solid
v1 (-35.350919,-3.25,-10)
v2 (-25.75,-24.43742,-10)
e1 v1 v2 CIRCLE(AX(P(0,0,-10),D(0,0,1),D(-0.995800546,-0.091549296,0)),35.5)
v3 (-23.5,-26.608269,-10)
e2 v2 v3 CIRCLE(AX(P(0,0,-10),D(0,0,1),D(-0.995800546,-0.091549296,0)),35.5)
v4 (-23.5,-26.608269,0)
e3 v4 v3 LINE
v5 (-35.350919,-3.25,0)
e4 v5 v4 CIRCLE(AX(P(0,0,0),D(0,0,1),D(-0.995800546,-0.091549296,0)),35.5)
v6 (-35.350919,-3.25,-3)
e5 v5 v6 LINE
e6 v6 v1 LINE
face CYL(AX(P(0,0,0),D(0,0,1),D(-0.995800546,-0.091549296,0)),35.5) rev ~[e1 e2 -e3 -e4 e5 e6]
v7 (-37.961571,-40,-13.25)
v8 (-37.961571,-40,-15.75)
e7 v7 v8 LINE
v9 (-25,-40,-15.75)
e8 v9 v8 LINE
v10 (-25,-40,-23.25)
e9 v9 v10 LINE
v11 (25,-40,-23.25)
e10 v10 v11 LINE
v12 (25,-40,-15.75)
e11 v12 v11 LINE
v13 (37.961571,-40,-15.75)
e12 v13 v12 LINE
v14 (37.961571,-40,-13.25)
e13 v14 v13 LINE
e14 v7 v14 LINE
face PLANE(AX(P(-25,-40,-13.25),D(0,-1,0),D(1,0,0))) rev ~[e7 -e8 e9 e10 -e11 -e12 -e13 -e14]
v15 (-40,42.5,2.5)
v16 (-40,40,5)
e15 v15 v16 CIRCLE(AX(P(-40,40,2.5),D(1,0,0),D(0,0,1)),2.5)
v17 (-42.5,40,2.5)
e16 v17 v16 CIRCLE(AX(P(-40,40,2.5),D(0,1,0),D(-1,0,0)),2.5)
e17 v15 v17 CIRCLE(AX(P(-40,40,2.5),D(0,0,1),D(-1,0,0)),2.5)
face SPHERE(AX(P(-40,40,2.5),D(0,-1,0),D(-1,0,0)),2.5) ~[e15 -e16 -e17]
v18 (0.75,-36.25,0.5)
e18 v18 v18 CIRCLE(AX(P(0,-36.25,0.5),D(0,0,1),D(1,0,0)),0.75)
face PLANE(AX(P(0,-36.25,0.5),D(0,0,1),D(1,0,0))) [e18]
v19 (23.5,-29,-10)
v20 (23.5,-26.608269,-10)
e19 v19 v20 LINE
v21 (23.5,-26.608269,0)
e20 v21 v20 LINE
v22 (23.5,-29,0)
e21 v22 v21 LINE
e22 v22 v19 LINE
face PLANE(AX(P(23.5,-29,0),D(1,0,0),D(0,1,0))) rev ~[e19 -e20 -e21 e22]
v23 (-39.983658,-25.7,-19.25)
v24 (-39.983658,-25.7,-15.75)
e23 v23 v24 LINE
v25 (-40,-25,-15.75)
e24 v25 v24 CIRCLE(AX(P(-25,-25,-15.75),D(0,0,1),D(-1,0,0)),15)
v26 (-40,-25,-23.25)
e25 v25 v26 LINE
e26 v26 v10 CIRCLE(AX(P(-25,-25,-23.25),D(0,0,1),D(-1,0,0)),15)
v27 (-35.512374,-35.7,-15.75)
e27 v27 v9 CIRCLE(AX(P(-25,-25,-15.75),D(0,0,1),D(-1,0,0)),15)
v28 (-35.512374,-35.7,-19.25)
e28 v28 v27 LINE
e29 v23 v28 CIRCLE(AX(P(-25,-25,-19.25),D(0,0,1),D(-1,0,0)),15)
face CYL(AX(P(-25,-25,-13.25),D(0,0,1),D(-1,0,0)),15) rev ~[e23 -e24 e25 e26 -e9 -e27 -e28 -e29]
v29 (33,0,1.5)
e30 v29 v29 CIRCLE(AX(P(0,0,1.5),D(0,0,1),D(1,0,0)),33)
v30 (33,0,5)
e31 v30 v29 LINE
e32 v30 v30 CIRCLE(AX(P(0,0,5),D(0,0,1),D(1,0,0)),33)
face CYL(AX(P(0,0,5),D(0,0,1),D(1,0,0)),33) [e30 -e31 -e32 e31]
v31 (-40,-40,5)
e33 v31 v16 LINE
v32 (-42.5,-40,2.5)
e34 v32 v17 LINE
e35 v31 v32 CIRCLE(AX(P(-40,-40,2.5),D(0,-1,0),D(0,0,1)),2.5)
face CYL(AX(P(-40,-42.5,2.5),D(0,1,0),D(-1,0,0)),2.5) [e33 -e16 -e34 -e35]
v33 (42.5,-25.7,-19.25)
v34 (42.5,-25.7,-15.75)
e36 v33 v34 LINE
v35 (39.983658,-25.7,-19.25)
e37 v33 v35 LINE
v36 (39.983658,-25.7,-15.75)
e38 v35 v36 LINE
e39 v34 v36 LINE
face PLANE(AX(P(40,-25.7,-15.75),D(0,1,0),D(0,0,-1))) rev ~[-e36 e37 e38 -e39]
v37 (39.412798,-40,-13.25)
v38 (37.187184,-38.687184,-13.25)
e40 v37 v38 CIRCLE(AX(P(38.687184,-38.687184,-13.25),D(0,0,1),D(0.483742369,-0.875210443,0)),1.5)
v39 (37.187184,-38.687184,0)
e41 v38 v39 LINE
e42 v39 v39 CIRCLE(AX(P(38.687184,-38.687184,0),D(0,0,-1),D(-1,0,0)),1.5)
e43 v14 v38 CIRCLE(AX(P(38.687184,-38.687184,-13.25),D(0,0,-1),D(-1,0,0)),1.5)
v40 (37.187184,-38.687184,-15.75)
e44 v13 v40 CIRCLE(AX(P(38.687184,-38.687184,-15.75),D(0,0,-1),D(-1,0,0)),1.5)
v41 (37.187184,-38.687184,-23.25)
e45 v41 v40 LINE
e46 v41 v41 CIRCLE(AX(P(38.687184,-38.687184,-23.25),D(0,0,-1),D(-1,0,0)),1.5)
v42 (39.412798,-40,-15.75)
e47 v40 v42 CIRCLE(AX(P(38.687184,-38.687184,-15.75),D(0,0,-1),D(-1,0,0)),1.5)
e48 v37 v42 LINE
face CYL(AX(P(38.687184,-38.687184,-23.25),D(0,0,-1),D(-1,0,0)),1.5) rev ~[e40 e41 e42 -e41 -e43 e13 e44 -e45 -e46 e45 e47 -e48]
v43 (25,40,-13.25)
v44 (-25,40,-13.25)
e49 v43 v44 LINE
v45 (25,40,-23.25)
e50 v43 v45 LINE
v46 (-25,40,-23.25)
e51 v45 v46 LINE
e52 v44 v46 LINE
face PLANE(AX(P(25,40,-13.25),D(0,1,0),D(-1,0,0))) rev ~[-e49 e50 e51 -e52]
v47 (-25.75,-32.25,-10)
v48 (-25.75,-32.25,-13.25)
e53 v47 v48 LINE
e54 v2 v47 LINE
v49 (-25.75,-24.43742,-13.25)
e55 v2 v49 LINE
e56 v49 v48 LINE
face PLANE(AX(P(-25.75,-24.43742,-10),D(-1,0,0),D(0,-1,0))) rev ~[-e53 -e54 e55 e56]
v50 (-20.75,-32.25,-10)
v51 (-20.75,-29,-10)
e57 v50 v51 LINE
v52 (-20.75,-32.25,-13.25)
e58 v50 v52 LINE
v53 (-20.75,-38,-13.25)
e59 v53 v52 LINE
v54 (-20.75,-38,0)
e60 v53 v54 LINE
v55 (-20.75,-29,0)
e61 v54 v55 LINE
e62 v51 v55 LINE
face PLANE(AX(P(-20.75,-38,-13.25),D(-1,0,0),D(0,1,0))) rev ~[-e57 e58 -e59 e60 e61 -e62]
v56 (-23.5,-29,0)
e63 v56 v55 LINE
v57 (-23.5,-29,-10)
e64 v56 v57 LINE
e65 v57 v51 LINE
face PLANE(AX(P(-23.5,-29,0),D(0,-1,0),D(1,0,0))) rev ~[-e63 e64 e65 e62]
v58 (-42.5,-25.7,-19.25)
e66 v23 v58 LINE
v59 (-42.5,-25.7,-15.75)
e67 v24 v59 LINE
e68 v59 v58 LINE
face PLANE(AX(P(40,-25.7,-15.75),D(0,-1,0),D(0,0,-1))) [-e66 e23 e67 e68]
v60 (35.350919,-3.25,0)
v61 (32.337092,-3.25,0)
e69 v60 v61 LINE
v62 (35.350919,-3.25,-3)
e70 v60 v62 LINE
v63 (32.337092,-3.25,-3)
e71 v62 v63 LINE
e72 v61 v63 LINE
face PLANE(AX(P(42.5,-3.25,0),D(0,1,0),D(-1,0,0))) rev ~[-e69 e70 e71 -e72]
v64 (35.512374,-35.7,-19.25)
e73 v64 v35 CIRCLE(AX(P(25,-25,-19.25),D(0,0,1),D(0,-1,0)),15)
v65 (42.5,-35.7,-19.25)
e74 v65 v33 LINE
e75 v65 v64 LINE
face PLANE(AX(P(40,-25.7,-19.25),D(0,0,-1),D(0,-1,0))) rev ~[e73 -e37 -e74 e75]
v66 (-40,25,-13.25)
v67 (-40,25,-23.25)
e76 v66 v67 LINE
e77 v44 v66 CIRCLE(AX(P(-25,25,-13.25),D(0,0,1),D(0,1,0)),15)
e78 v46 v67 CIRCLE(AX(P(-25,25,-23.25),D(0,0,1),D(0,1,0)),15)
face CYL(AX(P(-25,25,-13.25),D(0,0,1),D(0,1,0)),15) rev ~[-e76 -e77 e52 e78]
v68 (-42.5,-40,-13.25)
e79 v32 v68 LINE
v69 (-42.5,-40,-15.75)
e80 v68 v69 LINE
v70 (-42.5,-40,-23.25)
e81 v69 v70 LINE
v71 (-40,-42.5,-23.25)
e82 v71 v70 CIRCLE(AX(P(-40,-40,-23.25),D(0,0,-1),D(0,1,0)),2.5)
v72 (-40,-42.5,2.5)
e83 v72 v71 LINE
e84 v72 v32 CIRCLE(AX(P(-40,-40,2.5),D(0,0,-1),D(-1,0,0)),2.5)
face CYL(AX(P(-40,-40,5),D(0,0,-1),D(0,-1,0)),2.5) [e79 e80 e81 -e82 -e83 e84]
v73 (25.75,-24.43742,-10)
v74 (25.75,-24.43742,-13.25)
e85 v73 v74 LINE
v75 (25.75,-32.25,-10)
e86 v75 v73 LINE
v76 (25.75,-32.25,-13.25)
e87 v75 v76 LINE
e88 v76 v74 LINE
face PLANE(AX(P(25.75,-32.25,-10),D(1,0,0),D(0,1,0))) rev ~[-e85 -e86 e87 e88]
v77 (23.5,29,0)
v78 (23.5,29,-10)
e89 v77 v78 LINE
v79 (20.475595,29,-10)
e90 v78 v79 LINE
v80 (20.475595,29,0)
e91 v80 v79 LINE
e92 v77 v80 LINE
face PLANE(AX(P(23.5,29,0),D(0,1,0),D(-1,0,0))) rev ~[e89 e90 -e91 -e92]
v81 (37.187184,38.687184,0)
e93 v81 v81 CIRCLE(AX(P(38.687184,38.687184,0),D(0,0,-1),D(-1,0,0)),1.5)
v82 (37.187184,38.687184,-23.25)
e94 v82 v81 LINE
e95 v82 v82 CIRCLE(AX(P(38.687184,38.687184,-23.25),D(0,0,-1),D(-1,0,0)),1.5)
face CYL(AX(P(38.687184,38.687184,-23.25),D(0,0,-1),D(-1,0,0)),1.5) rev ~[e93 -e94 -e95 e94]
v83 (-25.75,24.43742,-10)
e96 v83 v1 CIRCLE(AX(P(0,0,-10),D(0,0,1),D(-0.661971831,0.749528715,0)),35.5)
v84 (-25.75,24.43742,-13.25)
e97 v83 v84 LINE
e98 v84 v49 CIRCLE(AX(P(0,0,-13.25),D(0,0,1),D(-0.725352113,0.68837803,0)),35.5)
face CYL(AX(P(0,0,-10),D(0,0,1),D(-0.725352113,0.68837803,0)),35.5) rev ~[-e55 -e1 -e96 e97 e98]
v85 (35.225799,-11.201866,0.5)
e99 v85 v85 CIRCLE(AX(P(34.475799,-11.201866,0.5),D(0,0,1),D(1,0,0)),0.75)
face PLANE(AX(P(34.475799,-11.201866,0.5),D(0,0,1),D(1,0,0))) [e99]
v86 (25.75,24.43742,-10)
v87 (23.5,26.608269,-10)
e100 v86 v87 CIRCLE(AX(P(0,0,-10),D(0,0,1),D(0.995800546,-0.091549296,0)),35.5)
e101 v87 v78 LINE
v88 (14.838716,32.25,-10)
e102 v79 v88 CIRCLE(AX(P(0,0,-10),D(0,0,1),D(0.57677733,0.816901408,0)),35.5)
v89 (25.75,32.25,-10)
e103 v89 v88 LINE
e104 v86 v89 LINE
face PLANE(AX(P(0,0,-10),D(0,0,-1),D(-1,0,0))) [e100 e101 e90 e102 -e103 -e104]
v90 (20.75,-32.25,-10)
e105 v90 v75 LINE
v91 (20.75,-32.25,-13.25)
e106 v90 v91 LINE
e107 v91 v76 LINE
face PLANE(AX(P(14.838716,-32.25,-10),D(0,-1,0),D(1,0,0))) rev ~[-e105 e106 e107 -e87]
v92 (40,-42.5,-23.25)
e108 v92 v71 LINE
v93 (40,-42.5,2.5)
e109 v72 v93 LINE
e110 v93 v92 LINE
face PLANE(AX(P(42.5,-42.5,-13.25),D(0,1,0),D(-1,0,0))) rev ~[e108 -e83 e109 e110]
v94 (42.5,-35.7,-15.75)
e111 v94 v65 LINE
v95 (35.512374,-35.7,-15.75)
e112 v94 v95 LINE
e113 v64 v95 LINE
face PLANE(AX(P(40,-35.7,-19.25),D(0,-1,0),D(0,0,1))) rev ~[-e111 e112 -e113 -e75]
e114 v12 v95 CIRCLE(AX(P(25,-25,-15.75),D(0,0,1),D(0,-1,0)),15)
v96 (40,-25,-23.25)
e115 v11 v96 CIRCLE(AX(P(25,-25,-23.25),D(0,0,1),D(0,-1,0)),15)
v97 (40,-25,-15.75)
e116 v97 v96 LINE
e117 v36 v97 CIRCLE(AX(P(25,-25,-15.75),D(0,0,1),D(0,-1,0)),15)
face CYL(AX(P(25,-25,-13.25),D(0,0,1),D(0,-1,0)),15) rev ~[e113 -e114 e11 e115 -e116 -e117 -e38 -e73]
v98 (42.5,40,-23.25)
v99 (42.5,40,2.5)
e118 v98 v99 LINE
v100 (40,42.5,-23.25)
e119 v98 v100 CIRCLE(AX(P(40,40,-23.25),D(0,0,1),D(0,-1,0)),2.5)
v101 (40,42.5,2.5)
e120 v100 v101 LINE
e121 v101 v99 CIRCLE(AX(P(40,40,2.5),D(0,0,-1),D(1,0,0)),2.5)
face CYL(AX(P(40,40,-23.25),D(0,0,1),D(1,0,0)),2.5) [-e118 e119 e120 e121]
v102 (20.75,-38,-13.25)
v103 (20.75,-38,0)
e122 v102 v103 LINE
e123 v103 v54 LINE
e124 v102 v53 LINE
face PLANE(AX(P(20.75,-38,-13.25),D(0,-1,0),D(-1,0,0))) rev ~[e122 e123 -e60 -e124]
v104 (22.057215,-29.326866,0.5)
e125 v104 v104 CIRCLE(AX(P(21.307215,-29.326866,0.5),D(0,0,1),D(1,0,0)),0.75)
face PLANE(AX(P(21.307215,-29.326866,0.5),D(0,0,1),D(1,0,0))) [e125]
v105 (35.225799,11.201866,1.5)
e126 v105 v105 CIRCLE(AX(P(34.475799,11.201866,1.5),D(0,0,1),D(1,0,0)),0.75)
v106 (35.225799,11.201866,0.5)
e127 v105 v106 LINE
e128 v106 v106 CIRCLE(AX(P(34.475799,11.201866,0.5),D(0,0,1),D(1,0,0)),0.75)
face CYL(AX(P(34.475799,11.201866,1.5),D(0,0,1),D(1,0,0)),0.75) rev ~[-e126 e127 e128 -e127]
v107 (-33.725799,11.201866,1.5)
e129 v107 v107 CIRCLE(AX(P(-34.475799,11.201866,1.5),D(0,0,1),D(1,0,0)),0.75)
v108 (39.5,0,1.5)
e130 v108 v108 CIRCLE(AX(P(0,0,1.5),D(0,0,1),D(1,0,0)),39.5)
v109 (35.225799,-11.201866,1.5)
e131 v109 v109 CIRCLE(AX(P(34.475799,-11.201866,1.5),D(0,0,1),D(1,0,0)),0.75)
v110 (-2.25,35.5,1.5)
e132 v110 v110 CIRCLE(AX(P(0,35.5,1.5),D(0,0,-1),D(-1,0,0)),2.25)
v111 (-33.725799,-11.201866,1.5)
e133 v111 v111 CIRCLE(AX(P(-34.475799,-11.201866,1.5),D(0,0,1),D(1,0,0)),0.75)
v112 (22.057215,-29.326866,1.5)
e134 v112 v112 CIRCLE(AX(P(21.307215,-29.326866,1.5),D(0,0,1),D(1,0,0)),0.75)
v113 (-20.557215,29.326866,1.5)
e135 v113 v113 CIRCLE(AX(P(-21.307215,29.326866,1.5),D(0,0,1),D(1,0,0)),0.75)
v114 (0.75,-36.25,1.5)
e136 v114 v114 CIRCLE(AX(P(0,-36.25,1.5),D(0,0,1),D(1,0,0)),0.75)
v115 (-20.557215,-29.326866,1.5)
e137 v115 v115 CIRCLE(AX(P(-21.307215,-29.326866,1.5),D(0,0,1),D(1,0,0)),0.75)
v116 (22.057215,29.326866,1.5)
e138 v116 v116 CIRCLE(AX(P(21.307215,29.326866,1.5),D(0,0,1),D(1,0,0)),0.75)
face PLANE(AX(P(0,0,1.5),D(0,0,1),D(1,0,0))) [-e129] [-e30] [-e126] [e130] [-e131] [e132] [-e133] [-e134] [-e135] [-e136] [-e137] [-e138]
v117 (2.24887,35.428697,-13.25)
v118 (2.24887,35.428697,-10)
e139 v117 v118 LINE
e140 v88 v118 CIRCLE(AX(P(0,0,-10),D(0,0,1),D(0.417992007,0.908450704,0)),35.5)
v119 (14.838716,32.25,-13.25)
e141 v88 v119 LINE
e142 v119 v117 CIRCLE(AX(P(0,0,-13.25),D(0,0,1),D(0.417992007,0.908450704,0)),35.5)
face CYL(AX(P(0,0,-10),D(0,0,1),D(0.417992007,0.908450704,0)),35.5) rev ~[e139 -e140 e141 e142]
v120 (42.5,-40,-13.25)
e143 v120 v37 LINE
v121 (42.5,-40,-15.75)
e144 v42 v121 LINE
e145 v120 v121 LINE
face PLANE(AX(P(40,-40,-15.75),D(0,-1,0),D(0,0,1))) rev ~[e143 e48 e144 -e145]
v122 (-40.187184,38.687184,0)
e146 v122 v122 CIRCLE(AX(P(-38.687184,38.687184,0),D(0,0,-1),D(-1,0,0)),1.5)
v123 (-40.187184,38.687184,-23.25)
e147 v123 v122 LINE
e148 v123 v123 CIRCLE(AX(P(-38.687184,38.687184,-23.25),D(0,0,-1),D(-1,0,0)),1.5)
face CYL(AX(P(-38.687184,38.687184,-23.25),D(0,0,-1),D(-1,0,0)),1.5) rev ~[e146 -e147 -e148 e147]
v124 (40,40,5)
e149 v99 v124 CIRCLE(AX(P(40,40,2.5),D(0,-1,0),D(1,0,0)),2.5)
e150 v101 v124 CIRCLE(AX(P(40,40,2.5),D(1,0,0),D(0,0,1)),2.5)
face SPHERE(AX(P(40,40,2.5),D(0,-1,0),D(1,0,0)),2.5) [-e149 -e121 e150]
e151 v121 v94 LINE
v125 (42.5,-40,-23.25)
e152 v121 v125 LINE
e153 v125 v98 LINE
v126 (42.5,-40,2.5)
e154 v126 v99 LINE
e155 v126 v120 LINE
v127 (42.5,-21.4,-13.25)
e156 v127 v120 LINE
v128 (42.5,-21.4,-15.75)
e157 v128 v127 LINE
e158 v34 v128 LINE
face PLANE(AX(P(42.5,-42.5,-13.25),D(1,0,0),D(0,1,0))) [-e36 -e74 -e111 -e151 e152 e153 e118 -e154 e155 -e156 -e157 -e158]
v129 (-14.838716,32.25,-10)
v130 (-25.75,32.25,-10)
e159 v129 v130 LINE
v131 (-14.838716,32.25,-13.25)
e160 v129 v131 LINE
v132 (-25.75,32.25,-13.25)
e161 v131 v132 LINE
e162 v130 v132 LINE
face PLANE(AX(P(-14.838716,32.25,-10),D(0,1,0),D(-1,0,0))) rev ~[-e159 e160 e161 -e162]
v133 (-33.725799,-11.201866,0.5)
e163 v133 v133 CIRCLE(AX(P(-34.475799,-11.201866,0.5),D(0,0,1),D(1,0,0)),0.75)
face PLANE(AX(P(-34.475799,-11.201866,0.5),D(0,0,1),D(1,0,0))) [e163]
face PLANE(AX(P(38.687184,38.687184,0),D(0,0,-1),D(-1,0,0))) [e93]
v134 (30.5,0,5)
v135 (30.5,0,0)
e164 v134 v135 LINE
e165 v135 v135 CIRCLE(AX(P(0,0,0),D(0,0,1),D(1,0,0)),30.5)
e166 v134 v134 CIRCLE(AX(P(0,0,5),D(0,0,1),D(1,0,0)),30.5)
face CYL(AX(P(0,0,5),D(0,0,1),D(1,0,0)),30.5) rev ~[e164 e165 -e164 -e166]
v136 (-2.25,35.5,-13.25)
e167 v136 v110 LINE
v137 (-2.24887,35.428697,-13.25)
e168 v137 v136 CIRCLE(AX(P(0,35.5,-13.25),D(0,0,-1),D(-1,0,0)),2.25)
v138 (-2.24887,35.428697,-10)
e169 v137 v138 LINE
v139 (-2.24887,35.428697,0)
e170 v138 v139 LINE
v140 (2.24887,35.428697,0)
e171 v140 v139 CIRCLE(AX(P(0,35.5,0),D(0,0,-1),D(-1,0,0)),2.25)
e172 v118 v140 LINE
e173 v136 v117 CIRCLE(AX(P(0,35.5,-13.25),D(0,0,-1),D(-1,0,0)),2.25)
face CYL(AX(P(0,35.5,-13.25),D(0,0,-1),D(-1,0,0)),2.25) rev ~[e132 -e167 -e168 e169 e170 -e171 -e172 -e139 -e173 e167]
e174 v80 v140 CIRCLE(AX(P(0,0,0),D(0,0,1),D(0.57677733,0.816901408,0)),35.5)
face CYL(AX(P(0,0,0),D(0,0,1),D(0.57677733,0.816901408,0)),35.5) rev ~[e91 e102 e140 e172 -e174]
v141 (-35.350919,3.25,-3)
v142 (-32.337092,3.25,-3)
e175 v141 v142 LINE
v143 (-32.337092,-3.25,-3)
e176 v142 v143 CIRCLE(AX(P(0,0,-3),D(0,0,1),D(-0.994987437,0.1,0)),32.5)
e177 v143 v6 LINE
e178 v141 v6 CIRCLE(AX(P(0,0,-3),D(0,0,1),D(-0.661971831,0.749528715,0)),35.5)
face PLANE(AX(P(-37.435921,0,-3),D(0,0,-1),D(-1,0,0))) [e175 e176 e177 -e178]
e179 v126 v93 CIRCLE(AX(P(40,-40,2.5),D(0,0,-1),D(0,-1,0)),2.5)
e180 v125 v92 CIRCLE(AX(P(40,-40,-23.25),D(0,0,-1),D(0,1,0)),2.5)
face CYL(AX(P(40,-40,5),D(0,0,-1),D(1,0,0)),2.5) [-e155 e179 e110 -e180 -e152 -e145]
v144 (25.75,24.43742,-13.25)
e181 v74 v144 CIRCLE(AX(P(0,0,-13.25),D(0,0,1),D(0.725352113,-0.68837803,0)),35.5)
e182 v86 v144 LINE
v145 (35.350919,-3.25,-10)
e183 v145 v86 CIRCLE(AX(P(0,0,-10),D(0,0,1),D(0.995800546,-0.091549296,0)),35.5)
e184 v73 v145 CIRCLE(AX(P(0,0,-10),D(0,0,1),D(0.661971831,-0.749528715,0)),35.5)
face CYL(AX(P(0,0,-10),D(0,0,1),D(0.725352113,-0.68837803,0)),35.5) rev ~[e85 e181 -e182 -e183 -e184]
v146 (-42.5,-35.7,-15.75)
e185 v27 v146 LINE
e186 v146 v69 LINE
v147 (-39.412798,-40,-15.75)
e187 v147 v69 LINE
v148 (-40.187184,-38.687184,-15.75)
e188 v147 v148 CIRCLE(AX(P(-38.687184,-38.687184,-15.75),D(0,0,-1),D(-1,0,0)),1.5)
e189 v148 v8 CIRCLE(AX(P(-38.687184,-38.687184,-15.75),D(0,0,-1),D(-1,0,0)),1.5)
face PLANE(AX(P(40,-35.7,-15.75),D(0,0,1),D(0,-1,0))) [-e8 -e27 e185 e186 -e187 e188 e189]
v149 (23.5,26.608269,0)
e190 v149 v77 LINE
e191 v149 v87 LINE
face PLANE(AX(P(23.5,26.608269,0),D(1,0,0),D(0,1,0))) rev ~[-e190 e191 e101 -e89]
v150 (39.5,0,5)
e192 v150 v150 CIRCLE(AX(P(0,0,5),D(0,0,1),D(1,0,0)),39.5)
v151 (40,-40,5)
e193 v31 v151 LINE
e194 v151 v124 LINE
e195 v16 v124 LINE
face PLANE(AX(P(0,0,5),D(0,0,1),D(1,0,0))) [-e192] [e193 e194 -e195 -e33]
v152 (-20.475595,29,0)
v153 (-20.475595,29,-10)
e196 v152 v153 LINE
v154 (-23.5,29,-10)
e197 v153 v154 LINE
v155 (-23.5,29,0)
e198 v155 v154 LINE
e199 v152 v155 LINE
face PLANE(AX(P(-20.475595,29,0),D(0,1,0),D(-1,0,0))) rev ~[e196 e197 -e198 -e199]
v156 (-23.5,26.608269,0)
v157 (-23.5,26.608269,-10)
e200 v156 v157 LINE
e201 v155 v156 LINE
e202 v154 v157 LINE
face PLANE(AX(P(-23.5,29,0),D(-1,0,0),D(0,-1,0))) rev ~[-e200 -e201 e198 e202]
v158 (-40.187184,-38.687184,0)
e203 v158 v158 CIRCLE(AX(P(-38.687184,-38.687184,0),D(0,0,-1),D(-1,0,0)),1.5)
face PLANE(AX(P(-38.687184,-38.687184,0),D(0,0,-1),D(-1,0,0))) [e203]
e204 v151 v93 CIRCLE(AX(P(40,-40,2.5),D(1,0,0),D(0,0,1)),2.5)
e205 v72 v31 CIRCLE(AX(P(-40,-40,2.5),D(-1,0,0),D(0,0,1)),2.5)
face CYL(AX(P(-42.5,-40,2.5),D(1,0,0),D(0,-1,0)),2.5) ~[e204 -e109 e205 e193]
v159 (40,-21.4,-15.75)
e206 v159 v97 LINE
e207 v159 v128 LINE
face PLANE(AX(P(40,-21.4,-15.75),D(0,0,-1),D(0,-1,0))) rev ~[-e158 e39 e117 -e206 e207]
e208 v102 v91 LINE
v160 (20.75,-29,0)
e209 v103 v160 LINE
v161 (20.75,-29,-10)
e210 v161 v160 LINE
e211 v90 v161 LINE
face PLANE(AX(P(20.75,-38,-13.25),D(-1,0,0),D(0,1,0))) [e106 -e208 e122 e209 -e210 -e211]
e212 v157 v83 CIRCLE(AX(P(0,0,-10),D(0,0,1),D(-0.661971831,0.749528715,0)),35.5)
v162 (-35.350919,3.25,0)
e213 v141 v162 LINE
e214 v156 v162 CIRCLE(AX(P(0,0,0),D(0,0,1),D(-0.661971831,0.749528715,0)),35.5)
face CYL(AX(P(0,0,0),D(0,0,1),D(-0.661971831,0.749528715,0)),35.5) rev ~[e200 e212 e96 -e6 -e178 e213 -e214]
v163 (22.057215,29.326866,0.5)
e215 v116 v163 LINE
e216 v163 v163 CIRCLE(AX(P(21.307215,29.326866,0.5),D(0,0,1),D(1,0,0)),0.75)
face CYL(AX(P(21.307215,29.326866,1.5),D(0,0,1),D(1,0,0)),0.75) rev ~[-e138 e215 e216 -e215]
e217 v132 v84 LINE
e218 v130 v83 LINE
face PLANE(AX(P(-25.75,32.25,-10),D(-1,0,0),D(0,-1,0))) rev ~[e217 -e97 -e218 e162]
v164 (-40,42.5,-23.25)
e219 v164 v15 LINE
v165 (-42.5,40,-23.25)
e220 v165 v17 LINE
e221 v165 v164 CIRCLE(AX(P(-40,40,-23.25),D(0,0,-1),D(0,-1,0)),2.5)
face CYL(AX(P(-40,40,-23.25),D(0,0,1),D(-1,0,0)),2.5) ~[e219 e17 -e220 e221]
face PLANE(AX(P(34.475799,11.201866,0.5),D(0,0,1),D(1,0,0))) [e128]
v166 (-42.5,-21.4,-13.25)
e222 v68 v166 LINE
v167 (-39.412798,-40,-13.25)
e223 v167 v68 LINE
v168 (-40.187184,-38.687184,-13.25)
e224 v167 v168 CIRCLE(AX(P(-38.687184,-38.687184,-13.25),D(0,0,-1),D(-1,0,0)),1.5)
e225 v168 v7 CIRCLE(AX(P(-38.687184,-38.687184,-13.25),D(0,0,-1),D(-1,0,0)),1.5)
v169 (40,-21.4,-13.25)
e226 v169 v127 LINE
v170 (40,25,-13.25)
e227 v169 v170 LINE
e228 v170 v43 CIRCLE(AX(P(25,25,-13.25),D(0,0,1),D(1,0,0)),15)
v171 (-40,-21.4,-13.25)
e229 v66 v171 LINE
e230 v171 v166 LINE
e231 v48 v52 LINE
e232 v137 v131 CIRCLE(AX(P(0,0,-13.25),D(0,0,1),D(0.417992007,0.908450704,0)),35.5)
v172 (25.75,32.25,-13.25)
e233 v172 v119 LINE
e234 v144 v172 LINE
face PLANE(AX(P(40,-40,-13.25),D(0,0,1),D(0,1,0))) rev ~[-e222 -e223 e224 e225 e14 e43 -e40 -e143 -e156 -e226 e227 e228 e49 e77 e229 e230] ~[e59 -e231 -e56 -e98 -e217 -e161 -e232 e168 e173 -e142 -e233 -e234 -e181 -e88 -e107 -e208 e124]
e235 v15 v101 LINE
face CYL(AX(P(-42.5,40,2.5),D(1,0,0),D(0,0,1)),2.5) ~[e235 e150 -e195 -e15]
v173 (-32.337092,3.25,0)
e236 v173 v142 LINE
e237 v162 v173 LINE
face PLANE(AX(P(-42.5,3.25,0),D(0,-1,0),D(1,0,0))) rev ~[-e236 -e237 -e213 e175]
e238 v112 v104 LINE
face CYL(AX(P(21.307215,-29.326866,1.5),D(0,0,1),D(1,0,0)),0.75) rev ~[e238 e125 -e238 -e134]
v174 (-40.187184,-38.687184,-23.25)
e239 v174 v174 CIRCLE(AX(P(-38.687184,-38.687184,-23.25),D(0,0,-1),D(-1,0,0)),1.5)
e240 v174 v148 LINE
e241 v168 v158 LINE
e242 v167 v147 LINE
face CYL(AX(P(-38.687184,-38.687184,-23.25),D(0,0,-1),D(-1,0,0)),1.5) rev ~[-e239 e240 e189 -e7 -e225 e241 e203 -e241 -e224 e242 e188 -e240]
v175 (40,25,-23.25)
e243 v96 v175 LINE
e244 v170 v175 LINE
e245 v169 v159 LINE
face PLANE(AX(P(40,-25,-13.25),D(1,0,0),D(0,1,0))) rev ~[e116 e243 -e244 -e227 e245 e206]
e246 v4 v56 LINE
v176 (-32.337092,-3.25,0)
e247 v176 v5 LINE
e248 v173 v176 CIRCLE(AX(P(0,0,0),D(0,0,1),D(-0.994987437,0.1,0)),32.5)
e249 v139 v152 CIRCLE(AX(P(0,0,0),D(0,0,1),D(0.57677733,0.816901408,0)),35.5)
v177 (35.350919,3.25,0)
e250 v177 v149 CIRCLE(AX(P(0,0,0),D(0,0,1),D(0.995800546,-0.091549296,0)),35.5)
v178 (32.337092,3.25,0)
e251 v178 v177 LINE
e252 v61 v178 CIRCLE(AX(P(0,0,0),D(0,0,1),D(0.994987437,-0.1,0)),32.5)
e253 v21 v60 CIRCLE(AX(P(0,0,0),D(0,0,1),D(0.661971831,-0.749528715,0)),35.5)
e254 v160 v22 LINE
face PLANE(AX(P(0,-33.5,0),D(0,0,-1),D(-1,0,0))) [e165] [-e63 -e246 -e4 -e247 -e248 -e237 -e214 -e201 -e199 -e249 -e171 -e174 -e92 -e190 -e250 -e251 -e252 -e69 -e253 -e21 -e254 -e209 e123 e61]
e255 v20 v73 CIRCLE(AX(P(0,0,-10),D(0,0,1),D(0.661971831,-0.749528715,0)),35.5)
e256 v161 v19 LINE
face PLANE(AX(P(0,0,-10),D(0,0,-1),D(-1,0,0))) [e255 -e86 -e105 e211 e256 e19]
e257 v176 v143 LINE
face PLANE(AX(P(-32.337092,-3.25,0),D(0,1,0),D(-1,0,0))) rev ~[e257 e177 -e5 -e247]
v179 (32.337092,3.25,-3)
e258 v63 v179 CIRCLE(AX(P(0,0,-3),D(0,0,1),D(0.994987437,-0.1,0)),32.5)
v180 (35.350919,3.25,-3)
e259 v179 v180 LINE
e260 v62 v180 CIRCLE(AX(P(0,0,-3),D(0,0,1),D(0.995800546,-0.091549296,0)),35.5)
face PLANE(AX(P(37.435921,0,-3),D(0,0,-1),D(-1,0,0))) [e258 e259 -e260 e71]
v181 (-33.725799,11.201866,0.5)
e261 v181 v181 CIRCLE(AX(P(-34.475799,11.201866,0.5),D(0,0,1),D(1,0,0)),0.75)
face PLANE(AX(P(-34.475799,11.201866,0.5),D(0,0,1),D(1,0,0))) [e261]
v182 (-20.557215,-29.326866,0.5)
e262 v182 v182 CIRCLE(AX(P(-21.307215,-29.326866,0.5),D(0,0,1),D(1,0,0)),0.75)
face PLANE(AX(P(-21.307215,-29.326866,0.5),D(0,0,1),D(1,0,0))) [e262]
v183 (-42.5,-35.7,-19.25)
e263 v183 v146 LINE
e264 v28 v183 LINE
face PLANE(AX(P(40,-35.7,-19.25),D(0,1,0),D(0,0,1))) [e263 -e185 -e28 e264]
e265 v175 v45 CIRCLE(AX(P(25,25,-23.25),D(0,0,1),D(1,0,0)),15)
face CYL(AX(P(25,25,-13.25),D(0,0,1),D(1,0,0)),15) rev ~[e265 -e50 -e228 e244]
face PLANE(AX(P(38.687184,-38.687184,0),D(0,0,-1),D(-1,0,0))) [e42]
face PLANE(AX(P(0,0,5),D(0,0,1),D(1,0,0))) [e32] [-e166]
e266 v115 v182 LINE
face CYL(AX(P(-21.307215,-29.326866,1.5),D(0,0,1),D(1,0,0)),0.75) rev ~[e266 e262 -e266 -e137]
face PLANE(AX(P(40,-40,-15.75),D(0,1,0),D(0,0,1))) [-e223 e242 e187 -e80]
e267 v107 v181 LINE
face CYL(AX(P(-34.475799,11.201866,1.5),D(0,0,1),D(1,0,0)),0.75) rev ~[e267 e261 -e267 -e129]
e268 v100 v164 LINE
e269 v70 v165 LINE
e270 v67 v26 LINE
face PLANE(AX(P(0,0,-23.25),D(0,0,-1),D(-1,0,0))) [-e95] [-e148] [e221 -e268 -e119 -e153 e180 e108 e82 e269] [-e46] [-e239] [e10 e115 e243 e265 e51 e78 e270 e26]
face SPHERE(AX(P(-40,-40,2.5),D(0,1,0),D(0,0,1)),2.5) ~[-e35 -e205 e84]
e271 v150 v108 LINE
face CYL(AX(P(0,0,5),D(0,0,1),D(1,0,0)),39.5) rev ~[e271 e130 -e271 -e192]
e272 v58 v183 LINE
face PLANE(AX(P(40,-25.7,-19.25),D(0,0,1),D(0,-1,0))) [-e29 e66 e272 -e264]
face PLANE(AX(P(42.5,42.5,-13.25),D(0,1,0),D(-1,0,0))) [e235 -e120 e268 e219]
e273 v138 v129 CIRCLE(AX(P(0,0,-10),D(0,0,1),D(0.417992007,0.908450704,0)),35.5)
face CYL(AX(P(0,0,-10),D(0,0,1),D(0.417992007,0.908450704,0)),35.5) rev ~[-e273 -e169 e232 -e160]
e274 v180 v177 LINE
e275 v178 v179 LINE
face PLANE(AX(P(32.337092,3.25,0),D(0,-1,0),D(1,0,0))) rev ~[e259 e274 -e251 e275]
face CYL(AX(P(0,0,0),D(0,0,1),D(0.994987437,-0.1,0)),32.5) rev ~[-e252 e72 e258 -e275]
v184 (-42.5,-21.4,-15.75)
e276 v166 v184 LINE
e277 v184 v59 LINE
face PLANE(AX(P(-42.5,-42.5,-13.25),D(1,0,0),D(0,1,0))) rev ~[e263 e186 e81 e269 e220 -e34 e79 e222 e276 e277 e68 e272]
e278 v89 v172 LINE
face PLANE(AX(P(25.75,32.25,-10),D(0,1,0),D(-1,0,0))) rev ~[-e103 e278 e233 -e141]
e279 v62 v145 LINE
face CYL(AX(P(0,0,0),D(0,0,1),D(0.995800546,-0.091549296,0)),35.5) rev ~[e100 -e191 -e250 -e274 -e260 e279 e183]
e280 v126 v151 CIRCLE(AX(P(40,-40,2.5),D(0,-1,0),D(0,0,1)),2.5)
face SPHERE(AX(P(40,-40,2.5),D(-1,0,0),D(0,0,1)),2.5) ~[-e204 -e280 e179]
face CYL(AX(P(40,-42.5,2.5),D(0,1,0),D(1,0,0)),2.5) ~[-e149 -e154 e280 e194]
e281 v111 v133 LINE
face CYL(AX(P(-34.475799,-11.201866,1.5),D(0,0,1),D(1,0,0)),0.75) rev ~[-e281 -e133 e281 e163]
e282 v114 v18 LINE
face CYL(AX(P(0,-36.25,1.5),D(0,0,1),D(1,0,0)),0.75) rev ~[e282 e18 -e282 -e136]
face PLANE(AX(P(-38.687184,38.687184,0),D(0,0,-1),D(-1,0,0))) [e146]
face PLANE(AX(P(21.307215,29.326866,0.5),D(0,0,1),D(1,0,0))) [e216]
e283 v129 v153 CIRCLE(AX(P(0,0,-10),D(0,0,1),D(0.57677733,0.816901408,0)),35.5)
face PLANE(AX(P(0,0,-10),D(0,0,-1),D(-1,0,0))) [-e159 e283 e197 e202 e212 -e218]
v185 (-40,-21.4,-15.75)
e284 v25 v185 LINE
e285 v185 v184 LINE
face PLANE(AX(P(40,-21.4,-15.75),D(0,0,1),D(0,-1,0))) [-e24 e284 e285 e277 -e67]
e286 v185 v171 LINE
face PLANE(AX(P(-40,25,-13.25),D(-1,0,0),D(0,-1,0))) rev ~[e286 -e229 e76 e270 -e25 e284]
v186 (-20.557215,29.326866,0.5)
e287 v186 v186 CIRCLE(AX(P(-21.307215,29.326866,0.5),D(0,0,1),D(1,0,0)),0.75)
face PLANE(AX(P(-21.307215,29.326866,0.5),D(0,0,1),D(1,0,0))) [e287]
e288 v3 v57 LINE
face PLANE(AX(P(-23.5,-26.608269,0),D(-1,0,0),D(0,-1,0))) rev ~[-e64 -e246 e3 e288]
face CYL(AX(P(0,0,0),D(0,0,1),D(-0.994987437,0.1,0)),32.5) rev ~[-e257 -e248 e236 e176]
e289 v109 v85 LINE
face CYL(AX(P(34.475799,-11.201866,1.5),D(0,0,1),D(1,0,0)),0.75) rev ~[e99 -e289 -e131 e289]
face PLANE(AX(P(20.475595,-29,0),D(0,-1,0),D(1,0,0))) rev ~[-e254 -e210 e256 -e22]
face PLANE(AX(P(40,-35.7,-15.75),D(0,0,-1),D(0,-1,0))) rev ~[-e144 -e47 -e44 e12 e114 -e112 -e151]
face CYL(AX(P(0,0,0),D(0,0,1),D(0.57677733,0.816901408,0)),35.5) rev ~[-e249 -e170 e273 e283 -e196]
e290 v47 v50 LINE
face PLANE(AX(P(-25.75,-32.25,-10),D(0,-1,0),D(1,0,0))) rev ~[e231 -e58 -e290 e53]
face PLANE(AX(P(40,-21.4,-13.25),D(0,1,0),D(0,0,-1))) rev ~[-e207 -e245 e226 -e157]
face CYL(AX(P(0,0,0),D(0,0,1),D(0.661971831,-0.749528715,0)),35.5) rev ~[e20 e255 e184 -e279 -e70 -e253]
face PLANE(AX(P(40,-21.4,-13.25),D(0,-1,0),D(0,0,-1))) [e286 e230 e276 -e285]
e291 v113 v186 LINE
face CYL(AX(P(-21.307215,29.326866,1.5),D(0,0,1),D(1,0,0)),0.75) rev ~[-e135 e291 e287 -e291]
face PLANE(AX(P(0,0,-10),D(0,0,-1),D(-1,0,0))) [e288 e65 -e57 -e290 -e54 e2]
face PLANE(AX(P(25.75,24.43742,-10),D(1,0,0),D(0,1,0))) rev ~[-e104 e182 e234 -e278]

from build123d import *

# Parameters (mm, degrees)
ESQUISSE1_W                  = 85
ESQUISSE1_H                  = 85
BOSS_EXTRU_1_DEPTH           = 5
ESQUISSE2_R                  = 30.5
ENL_V_MAT_EXTRU_1_DEPTH      = 6
BOSS_EXTRU_2_DEPTH           = 3
ESQUISSE4_W                  = 85
ESQUISSE4_H                  = 85
BOSS_EXTRU_4_DEPTH           = 10
ESQUISSE5_W                  = 85
ESQUISSE5_H                  = 85
BOSS_EXTRU_5_DEPTH           = 3.25
ESQUISSE6_R                  = 39.5
ESQUISSE6_R_2                = 33
ENL_V_MAT_EXTRU_2_DEPTH      = 3.5
ESQUISSE7_R                  = 2.25
ENL_V_MAT_EXTRU_3_DEPTH      = 14.75
ESQUISSE8_W                  = 85
ESQUISSE8_H                  = 85
BOSS_EXTRU_6_DEPTH           = 10
CONG_1_R                     = 2.5
ESQUISSE9_W                  = 41.5
ESQUISSE9_H                  = 9
ENL_V_MAT_EXTRU_4_DEPTH      = 13.25
ESQUISSE10_R                 = 0.75
ENL_V_MAT_EXTRU_5_DEPTH      = 1
ESQUISSE11_R                 = 1.5
ENL_V_MAT_EXTRU_6_DEPTH      = 23.25
ENL_V_MAT_EXTRU_7_DEPTH      = 83.5
ENL_V_MAT_EXTRU_7_DEPTH_BACK = 3.5


with BuildPart() as part:
    # Esquisse1 → Boss.-Extru.1 (new body)
    with BuildSketch(Plane.XY):
        Rectangle(ESQUISSE1_W, ESQUISSE1_H)
    extrude(amount=BOSS_EXTRU_1_DEPTH)

    # Esquisse2 → Enlèv. mat.-Extru.1 (cut, through all)
    with BuildSketch(Plane.XY.offset(5)):
        Circle(ESQUISSE2_R)
    extrude(amount=-ENL_V_MAT_EXTRU_1_DEPTH, mode=Mode.SUBTRACT)

    # Esquisse3 → Boss.-Extru.2 (add)
    with BuildSketch(Plane(origin=(0, 0, 0), x_dir=(-1, 0, 0), z_dir=(0, 0, -1))):
        with BuildLine():
            Line((-32.337091706, 3.25), (-42.5, 3.25))
            Line((-42.5, 3.25), (-42.5, -3.25))
            Line((-42.5, -3.25), (-32.337091706, -3.25))
            ThreePointArc((-32.337091706, -3.25), (-32.5, 0), (-32.337091706, 3.25))
        make_face()
        with BuildLine():
            Line((32.337091706, -3.25), (42.5, -3.25))
            Line((42.5, -3.25), (42.5, 3.25))
            Line((42.5, 3.25), (32.337091706, 3.25))
            ThreePointArc((32.337091706, 3.25), (32.5, 0), (32.337091706, -3.25))
        make_face()
    extrude(amount=BOSS_EXTRU_2_DEPTH)

    # Esquisse4 → Boss.-Extru.4 (add)
    with BuildSketch(Plane(origin=(0, 0, 0), x_dir=(-1, 0, 0), z_dir=(0, 0, -1))):
        Rectangle(ESQUISSE4_W, ESQUISSE4_H)
        with BuildLine():
            Line((-23.5, 29), (-20.475595229, 29))
            ThreePointArc((-20.475595229, 29), (0, 35.5), (20.475595229, 29))
            Line((20.475595229, 29), (23.5, 29))
            Line((23.5, 29), (23.5, 26.608269391))
            ThreePointArc((23.5, 26.608269391), (32.996010976, 13.096307101), (35.350919366, -3.25))
            ThreePointArc((35.350919366, -3.25), (31.658488037, -16.062071324), (23.5, -26.608269391))
            Line((23.5, -26.608269391), (23.5, -29))
            Line((23.5, -29), (20.475595229, -29))
            ThreePointArc((20.475595229, -29), (0, -35.5), (-20.475595229, -29))
            Line((-20.475595229, -29), (-23.5, -29))
            Line((-23.5, -29), (-23.5, -26.608269391))
            ThreePointArc((-23.5, -26.608269391), (-31.658488037, -16.062071324), (-35.350919366, -3.25))
            ThreePointArc((-35.350919366, -3.25), (-32.996010976, 13.096307101), (-23.5, 26.608269391))
            Line((-23.5, 26.608269391), (-23.5, 29))
        make_face(mode=Mode.SUBTRACT)
    extrude(amount=BOSS_EXTRU_4_DEPTH)

    # Esquisse5 → Boss.-Extru.5 (add)
    with BuildSketch(Plane(origin=(0, 0, -10), x_dir=(-1, 0, 0), z_dir=(0, 0, -1))):
        Rectangle(ESQUISSE5_W, ESQUISSE5_H)
        with BuildLine():
            Line((14.838716252, 32.25), (25.75, 32.25))
            Line((25.75, 32.25), (25.75, 24.437420077))
            ThreePointArc((25.75, 24.437420077), (35.5, 0), (25.75, -24.437420077))
            Line((25.75, -24.437420077), (25.75, -32.25))
            Line((25.75, -32.25), (14.838716252, -32.25))
            ThreePointArc((14.838716252, -32.25), (0, -35.5), (-14.838716252, -32.25))
            Line((-14.838716252, -32.25), (-25.75, -32.25))
            Line((-25.75, -32.25), (-25.75, -24.437420077))
            ThreePointArc((-25.75, -24.437420077), (-35.5, 0), (-25.75, 24.437420077))
            Line((-25.75, 24.437420077), (-25.75, 32.25))
            Line((-25.75, 32.25), (-14.838716252, 32.25))
            ThreePointArc((-14.838716252, 32.25), (0, 35.5), (14.838716252, 32.25))
        make_face(mode=Mode.SUBTRACT)
    extrude(amount=BOSS_EXTRU_5_DEPTH)

    # Esquisse6 → Enlèv. mat.-Extru.2 (cut)
    with BuildSketch(Plane.XY.offset(5)):
        Circle(ESQUISSE6_R)
        Circle(ESQUISSE6_R_2, mode=Mode.SUBTRACT)
    extrude(amount=-ENL_V_MAT_EXTRU_2_DEPTH, mode=Mode.SUBTRACT)

    # Esquisse7 → Enlèv. mat.-Extru.3 (cut)
    with BuildSketch(Plane(origin=(0, 0, -13.25), x_dir=(-1, 0, 0), z_dir=(0, 0, -1))):
        with Locations((0, 35.5)):
            Circle(ESQUISSE7_R)
    extrude(amount=-ENL_V_MAT_EXTRU_3_DEPTH, mode=Mode.SUBTRACT)

    # Esquisse8 → Boss.-Extru.6 (add)
    with BuildSketch(Plane(origin=(0, 0, -13.25), x_dir=(-1, 0, 0), z_dir=(0, 0, -1))):
        Rectangle(ESQUISSE8_W, ESQUISSE8_H)
        with BuildLine():
            Line((-25, 40), (25, 40))
            ThreePointArc((25, 40), (35.606601718, 35.606601718), (40, 25))
            Line((40, 25), (40, -25))
            ThreePointArc((40, -25), (35.606601718, -35.606601718), (25, -40))
            Line((25, -40), (-25, -40))
            ThreePointArc((-25, -40), (-35.606601718, -35.606601718), (-40, -25))
            Line((-40, -25), (-40, 25))
            ThreePointArc((-40, 25), (-35.606601718, 35.606601718), (-25, 40))
        make_face(mode=Mode.SUBTRACT)
    extrude(amount=BOSS_EXTRU_6_DEPTH)

    # Congé1
    cong_1_edges = [part.edges().sort_by_distance(p)[0] for p in [
        (-42.5, 0, 5),
        (0, -42.5, 5),
        (42.5, 0, 5),
        (42.5, -42.5, -9.125),
        (-42.5, -42.5, -9.125),
        (-42.5, 42.5, -9.125),
        (42.5, 42.5, -9.125),
        (0, 42.5, 5),
    ]]
    fillet(cong_1_edges, radius=CONG_1_R)

    # Esquisse9 → Enlèv. mat.-Extru.4 (cut)
    with BuildSketch(Plane(origin=(0, 0, -13.25), x_dir=(-1, 0, 0), z_dir=(0, 0, -1))):
        with Locations((0, -33.5)):
            Rectangle(ESQUISSE9_W, ESQUISSE9_H)
    extrude(amount=-ENL_V_MAT_EXTRU_4_DEPTH, mode=Mode.SUBTRACT)

    # Esquisse10 → Enlèv. mat.-Extru.5 (cut)
    with BuildSketch(Plane.XY.offset(1.5)):
        with Locations((0, 36.25)):
            Circle(ESQUISSE10_R)
        with Locations((21.307215396, 29.326866046)):
            Circle(ESQUISSE10_R)
        with Locations((34.475798716, 11.201866046)):
            Circle(ESQUISSE10_R)
        with Locations((34.475798716, -11.201866046)):
            Circle(ESQUISSE10_R)
        with Locations((21.307215396, -29.326866046)):
            Circle(ESQUISSE10_R)
        with Locations((0, -36.25)):
            Circle(ESQUISSE10_R)
        with Locations((-21.307215396, -29.326866046)):
            Circle(ESQUISSE10_R)
        with Locations((-34.475798716, -11.201866046)):
            Circle(ESQUISSE10_R)
        with Locations((-34.475798716, 11.201866046)):
            Circle(ESQUISSE10_R)
        with Locations((-21.307215396, 29.326866046)):
            Circle(ESQUISSE10_R)
    extrude(amount=-ENL_V_MAT_EXTRU_5_DEPTH, mode=Mode.SUBTRACT)

    # Esquisse11 → Enlèv. mat.-Extru.6 (cut)
    with BuildSketch(Plane(origin=(0, 0, -23.25), x_dir=(-1, 0, 0), z_dir=(0, 0, -1))):
        with Locations((38.687184335, 38.687184335)):
            Circle(ESQUISSE11_R)
        with Locations((38.687184335, -38.687184335)):
            Circle(ESQUISSE11_R)
        with Locations((-38.687184335, -38.687184335)):
            Circle(ESQUISSE11_R)
        with Locations((-38.687184335, 38.687184335)):
            Circle(ESQUISSE11_R)
    extrude(amount=-ENL_V_MAT_EXTRU_6_DEPTH, mode=Mode.SUBTRACT)

    # Esquisse12 → Enlèv. mat.-Extru.7 (cut, two sides)
    with BuildSketch(Plane.ZY.offset(-40)) as enl_v_mat_extru_7_sk:
        Polygon((-13.25, -21.4), (-15.75, -21.4), (-15.75, -25.7), (-19.25, -25.7), (-19.25, -35.7), (-15.75, -35.7), (-15.75, -40), (-13.25, -40), align=None)
    extrude(amount=ENL_V_MAT_EXTRU_7_DEPTH, mode=Mode.SUBTRACT)
    extrude(enl_v_mat_extru_7_sk.sketch, amount=-ENL_V_MAT_EXTRU_7_DEPTH_BACK, mode=Mode.SUBTRACT)


solid = part.part
